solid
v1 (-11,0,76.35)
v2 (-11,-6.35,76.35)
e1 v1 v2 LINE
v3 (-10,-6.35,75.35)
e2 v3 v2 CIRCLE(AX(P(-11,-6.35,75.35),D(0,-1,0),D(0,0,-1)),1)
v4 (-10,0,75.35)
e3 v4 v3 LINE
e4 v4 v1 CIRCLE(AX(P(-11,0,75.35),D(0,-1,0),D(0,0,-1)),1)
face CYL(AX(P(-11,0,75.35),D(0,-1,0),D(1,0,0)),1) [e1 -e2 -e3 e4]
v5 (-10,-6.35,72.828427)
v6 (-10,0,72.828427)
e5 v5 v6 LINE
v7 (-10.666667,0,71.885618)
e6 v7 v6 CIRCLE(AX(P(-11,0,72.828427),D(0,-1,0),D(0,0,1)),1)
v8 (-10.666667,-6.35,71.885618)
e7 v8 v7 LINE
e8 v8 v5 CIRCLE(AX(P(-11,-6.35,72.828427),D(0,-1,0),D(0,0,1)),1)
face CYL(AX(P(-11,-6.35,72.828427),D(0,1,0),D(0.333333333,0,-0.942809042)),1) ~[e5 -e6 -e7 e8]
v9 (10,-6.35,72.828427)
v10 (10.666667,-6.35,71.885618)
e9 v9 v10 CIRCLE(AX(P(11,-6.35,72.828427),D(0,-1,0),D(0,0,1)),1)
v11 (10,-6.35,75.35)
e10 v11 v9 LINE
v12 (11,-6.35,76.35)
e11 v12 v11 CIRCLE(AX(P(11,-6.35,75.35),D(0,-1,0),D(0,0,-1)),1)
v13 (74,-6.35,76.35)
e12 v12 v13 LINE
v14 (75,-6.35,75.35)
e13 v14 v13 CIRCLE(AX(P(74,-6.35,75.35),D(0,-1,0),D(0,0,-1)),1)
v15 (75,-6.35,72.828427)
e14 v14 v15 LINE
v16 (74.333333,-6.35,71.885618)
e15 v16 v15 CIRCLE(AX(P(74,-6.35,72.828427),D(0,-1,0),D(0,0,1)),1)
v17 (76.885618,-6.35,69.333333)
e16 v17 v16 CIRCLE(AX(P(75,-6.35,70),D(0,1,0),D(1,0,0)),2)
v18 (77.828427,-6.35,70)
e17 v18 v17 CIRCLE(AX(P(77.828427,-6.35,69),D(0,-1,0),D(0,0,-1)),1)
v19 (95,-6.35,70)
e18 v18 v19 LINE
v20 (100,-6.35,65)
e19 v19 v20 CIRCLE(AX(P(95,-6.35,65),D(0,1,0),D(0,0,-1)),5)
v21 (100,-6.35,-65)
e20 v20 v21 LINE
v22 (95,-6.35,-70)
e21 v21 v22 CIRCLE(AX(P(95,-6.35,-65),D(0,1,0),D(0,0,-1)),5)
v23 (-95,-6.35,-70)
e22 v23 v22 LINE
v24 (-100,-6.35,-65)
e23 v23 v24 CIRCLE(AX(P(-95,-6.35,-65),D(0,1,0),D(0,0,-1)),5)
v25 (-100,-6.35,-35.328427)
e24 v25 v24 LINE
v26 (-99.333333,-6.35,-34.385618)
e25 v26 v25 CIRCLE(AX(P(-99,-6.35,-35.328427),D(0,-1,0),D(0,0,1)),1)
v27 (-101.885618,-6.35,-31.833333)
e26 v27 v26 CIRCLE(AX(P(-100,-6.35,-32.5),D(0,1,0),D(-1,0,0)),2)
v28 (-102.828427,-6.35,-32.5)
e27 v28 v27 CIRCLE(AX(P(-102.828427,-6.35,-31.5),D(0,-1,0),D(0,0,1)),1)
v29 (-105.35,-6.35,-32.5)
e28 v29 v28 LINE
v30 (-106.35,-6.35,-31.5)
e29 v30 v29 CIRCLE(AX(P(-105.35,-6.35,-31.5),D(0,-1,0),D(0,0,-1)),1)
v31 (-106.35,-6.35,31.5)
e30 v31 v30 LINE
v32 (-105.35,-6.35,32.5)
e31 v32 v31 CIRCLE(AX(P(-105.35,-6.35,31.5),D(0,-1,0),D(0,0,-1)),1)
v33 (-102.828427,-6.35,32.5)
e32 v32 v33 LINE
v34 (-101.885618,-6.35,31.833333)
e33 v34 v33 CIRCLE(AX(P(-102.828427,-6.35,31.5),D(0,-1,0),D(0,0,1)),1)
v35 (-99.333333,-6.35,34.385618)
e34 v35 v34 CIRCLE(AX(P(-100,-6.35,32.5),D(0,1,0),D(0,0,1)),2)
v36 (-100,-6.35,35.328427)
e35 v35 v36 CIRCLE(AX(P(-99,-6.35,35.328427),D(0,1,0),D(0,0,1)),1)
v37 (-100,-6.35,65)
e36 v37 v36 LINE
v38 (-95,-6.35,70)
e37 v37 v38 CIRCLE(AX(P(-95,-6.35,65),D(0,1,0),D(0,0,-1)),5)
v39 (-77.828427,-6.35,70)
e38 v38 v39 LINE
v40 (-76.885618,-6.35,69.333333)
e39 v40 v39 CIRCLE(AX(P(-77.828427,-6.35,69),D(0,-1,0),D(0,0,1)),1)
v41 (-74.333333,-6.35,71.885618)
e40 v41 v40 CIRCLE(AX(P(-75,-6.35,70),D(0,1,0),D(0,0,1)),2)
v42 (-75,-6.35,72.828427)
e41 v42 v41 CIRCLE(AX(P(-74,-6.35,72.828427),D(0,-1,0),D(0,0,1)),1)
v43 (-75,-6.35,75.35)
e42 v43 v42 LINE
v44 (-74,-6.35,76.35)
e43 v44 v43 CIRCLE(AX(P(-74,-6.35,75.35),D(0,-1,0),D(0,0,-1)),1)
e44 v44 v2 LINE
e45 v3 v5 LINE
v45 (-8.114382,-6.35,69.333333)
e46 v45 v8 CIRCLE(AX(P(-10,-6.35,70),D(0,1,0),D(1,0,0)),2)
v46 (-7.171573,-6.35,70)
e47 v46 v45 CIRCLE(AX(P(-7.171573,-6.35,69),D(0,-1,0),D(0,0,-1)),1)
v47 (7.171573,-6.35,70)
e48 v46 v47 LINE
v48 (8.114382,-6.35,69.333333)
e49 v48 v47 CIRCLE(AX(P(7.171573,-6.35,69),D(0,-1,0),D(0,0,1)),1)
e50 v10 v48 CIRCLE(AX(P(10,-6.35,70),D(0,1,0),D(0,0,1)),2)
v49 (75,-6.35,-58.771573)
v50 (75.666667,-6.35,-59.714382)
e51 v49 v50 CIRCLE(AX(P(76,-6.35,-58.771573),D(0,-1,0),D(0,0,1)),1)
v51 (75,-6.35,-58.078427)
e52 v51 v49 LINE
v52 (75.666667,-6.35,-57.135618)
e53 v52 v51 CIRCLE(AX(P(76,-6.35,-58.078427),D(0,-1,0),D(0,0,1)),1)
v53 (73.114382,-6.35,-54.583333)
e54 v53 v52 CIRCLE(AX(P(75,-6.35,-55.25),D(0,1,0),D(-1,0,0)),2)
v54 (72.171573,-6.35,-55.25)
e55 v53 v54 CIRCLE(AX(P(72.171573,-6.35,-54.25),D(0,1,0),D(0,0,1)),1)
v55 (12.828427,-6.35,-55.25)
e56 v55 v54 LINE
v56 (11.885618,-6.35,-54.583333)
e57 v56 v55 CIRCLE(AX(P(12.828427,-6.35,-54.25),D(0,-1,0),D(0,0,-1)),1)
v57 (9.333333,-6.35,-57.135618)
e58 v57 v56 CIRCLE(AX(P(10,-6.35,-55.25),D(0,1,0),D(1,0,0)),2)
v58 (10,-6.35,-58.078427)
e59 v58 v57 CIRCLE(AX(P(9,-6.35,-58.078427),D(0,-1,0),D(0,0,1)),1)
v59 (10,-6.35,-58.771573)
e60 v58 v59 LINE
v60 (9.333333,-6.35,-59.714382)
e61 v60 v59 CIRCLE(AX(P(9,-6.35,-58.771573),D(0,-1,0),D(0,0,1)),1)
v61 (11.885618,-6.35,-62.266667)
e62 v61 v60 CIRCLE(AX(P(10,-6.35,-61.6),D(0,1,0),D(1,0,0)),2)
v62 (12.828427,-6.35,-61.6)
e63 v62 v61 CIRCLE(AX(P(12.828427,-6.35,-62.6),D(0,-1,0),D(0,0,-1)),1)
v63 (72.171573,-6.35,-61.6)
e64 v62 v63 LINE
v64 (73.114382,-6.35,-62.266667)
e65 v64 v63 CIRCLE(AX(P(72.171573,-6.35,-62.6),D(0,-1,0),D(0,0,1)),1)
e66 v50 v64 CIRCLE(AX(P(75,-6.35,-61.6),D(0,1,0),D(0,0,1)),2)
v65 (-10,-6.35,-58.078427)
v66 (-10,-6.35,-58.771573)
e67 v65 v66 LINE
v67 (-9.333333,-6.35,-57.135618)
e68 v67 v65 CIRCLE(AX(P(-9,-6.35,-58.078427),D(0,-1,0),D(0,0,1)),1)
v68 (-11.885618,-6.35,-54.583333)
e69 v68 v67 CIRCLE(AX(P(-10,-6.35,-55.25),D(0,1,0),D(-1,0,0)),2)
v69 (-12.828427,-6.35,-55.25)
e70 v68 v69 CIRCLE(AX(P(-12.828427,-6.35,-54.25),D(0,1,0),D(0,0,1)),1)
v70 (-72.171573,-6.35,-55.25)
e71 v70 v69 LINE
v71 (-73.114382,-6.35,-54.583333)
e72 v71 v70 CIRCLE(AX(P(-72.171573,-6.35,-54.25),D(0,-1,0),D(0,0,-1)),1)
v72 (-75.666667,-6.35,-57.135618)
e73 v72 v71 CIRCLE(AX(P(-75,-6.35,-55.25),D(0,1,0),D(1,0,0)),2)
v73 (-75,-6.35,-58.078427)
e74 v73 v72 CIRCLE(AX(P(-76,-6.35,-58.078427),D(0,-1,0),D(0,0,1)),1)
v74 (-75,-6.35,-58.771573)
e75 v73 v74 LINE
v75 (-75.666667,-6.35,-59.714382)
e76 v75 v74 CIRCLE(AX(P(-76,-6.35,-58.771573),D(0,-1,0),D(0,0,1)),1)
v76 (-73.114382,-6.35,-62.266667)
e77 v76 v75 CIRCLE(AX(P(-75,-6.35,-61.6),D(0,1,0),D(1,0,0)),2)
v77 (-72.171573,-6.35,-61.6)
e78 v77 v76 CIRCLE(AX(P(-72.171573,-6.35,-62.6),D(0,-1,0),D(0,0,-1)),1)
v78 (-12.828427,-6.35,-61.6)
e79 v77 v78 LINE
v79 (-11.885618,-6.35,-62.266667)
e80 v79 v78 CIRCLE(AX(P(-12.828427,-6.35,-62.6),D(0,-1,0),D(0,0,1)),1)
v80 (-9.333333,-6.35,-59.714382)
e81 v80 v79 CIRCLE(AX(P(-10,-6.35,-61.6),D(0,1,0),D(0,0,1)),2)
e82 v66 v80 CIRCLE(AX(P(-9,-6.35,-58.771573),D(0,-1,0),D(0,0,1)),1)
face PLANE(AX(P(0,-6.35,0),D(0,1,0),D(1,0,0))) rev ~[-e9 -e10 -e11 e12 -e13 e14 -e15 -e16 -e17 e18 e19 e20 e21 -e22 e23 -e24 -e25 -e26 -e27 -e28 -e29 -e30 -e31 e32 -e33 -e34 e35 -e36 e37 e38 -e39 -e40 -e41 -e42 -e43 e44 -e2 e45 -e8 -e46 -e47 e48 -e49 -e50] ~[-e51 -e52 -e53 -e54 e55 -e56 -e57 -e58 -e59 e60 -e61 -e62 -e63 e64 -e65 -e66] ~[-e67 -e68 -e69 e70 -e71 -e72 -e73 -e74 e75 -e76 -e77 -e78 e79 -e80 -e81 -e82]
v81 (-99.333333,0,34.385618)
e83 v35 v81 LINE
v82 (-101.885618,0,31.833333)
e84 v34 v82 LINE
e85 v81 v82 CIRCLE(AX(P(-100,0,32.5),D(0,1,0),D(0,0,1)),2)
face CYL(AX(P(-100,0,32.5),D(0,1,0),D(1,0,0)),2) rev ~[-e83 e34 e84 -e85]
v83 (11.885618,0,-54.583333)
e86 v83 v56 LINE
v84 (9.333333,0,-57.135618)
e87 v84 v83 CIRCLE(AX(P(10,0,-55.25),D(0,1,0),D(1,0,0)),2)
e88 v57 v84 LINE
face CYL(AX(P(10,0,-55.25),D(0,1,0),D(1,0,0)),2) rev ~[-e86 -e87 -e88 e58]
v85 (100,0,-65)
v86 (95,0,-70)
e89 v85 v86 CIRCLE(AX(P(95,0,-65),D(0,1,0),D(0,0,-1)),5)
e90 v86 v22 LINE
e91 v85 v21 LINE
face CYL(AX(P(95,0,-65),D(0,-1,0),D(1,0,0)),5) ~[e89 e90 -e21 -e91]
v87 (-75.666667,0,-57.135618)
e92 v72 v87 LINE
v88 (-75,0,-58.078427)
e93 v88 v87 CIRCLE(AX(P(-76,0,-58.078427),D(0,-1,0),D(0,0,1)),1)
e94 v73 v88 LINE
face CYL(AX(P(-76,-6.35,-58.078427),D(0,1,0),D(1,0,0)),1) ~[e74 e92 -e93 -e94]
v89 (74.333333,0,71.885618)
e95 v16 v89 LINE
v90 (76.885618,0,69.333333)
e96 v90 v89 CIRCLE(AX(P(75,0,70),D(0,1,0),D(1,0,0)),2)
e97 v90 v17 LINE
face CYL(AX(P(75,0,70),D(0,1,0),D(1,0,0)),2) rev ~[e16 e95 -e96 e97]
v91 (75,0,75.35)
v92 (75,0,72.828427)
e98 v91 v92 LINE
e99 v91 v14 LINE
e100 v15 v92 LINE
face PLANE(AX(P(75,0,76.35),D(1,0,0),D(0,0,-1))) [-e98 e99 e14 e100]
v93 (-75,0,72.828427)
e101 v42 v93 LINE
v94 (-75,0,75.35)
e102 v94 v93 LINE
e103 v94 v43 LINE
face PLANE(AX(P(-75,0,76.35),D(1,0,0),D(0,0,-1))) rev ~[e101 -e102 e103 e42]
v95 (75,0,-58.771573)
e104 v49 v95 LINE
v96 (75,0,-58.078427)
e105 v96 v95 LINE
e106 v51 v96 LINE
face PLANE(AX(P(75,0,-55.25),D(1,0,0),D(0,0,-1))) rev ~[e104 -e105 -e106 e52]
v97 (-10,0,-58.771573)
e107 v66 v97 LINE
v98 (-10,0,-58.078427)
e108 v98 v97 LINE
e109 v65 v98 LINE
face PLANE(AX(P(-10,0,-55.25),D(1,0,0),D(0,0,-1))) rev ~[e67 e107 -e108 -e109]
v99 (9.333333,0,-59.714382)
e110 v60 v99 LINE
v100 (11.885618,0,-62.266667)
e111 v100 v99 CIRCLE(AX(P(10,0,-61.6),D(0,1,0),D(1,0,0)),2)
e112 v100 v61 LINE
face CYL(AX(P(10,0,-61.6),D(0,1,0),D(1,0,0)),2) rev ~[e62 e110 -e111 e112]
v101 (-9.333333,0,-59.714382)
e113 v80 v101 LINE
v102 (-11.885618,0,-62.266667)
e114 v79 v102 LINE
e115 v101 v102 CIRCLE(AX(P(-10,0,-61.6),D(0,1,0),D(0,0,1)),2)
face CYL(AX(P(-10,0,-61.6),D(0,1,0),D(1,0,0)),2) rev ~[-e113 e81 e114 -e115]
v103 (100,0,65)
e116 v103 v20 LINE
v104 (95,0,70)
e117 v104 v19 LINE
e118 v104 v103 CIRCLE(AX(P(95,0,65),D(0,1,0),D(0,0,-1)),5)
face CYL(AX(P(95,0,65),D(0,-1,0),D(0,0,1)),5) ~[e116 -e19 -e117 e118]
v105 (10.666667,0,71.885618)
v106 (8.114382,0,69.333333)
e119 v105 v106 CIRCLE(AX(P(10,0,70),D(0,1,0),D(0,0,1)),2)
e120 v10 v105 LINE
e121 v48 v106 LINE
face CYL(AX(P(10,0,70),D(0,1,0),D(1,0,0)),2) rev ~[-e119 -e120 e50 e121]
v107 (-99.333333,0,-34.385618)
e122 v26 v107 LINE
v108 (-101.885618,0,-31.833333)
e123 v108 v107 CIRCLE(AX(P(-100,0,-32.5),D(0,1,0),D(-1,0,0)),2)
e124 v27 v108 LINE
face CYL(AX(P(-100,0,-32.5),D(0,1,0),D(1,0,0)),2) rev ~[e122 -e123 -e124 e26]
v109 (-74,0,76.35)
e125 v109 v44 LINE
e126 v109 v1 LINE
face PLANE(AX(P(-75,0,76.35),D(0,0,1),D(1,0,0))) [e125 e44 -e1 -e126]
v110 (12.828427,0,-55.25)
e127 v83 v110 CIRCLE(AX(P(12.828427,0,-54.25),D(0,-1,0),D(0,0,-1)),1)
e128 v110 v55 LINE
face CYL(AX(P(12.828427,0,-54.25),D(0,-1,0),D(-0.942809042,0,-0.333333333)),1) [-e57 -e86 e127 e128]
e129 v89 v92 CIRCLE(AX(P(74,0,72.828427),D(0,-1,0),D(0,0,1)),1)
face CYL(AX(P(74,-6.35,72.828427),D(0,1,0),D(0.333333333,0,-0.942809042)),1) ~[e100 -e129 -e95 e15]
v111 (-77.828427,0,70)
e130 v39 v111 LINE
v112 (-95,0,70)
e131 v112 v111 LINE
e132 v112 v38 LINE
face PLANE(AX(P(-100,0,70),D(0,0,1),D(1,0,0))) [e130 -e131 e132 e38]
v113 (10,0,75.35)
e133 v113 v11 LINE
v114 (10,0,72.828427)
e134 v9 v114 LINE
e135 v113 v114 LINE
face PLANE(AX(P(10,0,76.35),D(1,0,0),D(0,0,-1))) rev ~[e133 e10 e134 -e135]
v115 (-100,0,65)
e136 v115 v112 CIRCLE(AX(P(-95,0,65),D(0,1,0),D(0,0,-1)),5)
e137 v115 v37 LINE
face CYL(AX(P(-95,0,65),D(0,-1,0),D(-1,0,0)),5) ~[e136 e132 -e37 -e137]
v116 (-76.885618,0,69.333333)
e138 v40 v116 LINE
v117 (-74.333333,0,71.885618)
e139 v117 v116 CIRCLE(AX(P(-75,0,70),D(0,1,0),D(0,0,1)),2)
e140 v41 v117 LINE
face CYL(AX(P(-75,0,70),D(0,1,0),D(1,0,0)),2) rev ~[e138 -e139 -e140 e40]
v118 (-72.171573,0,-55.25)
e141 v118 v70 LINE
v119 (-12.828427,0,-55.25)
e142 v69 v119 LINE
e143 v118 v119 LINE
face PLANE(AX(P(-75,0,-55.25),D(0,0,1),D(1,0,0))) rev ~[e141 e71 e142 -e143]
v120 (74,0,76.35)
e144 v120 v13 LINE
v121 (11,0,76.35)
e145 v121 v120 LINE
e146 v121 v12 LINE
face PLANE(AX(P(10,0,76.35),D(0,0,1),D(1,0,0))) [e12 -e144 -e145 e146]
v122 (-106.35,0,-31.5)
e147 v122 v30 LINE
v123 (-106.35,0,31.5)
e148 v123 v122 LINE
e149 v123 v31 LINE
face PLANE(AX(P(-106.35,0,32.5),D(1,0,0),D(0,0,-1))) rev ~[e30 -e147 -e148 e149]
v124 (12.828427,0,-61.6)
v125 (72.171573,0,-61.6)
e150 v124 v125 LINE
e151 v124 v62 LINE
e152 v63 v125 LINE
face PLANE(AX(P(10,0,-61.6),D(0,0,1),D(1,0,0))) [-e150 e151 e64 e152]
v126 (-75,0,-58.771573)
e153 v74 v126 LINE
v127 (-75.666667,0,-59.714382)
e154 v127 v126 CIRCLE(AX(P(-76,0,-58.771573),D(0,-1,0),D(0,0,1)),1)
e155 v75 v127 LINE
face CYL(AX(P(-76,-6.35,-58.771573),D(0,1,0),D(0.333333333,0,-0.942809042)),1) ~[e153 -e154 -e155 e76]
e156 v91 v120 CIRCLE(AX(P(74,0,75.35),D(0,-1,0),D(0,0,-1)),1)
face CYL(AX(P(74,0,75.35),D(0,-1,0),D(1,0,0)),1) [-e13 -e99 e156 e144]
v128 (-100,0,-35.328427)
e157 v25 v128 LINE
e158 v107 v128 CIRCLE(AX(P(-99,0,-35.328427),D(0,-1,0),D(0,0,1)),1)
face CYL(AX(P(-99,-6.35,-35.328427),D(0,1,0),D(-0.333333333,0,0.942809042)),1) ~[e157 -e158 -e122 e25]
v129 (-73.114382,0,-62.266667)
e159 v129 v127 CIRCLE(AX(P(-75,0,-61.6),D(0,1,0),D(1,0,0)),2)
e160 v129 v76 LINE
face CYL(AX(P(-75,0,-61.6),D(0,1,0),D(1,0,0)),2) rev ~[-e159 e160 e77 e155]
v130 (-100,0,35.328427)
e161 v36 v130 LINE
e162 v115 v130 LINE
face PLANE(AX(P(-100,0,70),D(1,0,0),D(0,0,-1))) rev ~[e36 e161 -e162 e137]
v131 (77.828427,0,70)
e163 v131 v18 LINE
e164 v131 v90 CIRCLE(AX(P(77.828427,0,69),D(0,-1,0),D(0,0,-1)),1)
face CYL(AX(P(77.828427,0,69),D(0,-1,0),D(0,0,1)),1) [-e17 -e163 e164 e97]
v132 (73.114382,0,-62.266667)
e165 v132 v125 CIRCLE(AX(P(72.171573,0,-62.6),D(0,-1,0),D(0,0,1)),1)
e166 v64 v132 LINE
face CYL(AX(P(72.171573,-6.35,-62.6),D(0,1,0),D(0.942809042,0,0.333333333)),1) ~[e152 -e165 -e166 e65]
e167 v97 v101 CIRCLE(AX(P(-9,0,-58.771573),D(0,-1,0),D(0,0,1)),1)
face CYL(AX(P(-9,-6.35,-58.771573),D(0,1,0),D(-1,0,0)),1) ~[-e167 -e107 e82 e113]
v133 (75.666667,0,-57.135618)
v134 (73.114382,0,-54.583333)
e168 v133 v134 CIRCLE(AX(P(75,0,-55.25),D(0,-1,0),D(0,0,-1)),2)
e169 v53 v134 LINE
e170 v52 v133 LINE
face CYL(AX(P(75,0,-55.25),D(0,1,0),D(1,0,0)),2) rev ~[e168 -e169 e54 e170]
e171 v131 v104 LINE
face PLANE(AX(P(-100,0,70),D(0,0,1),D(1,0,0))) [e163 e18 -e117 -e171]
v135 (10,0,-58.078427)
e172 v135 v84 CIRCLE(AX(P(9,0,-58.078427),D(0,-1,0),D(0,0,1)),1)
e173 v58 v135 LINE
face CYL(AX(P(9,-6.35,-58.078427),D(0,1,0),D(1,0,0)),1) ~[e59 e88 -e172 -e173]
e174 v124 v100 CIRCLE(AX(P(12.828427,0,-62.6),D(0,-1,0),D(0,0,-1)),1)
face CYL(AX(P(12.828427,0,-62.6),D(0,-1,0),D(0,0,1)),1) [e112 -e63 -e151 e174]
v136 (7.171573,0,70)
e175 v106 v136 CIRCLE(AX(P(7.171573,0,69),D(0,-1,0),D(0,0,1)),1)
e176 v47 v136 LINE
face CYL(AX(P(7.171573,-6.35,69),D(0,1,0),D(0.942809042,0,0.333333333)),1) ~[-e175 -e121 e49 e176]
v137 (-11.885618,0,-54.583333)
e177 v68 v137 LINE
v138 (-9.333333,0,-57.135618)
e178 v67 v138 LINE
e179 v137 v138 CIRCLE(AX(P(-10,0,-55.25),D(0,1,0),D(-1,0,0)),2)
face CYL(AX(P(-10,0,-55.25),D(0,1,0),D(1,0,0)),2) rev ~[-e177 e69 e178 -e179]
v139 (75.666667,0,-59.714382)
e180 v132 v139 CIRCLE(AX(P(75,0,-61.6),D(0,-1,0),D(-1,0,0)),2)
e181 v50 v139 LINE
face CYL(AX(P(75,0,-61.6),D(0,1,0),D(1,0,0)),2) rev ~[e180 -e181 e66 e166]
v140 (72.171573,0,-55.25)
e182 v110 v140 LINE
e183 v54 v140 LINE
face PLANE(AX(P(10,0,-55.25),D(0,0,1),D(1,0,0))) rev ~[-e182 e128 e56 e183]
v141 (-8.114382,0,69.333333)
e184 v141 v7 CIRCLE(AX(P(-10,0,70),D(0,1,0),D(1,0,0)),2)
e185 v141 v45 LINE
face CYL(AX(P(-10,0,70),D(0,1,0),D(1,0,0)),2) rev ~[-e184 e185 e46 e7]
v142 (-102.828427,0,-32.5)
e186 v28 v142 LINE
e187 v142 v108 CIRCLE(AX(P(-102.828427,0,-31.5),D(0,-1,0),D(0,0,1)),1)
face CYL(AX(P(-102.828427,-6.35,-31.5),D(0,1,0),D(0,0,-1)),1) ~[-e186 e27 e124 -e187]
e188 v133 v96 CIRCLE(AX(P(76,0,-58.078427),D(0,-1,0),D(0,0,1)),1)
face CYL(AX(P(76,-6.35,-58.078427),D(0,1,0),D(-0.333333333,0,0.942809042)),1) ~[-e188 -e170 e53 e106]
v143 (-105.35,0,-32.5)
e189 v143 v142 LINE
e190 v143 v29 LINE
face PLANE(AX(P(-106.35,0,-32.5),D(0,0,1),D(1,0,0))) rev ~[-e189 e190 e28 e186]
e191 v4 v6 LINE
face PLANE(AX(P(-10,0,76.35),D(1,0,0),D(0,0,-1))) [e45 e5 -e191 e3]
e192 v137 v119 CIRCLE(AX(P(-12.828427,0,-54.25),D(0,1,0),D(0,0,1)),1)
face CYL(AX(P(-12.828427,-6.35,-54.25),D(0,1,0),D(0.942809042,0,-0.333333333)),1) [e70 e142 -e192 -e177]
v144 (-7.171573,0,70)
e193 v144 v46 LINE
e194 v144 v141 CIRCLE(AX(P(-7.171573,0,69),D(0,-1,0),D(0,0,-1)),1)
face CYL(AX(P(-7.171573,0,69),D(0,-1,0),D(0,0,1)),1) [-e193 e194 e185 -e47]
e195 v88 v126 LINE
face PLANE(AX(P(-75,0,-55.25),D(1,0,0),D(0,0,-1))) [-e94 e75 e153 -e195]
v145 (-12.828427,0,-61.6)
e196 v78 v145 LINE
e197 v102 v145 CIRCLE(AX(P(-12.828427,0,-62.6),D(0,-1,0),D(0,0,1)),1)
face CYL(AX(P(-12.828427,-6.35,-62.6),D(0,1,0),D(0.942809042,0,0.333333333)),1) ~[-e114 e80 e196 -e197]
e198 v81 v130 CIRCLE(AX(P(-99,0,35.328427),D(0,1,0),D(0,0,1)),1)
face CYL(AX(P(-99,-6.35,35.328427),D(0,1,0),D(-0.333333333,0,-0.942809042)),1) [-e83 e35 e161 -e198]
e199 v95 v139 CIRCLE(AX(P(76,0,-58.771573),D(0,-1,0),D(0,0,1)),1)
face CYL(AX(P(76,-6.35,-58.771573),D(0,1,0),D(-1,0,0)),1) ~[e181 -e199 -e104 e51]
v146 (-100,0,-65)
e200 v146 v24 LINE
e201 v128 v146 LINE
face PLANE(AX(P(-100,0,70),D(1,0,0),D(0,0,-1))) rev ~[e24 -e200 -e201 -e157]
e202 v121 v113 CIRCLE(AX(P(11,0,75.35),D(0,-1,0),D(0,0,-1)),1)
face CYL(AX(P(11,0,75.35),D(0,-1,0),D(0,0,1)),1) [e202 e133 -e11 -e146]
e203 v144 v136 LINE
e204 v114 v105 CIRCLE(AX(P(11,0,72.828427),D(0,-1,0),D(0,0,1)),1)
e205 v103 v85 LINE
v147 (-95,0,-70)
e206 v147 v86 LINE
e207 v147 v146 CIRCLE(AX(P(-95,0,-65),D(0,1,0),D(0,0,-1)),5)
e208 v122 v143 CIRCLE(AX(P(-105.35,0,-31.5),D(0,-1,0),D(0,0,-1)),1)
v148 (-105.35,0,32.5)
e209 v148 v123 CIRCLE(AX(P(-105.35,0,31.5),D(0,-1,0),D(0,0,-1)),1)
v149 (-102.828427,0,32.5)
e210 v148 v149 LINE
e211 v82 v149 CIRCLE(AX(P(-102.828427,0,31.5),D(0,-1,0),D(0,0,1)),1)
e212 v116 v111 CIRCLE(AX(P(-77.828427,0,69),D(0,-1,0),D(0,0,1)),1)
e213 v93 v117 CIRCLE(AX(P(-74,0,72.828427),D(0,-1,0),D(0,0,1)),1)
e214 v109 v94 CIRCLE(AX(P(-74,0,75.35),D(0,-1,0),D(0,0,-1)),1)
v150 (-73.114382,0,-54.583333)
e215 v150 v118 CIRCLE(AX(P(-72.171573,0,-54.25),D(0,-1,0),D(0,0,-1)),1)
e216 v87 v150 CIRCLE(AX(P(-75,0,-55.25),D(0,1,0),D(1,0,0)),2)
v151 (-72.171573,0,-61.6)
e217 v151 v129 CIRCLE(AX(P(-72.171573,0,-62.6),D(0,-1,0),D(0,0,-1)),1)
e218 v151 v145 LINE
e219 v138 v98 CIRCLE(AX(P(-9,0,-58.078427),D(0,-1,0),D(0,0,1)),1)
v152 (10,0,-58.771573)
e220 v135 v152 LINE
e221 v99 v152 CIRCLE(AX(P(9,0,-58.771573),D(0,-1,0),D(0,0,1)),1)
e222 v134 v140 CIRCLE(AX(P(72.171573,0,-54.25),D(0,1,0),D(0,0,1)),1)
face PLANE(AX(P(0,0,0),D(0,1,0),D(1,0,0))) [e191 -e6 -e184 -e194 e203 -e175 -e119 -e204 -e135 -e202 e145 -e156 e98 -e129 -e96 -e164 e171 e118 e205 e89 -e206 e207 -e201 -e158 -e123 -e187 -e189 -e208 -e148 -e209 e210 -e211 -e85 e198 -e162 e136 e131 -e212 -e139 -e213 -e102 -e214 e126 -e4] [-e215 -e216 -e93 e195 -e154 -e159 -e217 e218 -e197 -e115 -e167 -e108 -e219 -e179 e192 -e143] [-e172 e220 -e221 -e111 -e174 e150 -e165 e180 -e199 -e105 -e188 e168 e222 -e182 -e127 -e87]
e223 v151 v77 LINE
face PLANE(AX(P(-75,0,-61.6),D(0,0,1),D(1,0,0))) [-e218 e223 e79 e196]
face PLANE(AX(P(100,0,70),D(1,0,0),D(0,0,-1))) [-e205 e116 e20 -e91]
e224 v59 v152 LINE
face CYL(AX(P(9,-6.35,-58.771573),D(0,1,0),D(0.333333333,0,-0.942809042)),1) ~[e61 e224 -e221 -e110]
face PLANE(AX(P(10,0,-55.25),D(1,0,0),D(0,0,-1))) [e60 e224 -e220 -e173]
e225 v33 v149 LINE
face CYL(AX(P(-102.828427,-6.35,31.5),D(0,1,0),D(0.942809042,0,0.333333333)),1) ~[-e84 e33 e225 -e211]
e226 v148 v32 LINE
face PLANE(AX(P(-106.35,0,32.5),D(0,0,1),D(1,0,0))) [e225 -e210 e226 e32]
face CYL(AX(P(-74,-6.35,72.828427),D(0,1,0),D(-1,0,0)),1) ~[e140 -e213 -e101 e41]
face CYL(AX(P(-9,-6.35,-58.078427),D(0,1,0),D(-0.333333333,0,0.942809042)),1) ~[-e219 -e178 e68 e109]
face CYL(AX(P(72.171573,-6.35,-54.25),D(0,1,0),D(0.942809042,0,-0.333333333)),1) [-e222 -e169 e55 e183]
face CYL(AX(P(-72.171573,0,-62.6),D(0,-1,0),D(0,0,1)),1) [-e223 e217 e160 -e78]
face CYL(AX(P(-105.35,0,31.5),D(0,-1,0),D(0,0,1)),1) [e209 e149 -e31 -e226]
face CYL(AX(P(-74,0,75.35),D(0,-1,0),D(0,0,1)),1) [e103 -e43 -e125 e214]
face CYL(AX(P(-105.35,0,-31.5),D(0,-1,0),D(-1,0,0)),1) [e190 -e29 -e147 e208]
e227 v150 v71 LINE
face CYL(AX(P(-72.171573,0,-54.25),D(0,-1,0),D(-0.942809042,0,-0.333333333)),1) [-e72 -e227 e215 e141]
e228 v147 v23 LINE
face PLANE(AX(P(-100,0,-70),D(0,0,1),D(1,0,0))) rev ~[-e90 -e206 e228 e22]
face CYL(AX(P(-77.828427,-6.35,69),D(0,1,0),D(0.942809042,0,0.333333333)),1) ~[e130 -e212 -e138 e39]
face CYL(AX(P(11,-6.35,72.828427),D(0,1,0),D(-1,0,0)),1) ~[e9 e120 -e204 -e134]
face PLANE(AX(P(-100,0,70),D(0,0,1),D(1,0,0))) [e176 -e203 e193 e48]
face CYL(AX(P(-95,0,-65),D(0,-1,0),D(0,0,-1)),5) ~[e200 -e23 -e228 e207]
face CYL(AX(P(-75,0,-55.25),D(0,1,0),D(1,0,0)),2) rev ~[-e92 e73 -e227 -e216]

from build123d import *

# Parameters (mm, degrees)
SKETCH1_W              = 200
SKETCH1_H              = 140
BOSS_EXTRUDE1_DEPTH    = 6.35
SKETCH4_W              = 65
SKETCH4_H              = 6.35
BOSS_EXTRUDE2_DEPTH    = 6.35
LPATTERN1_COUNT        = 2
LPATTERN1_PITCH        = 85
SKETCH5_W              = 6.35
SKETCH5_H              = 65
BOSS_EXTRUDE3_DEPTH    = 6.35
SKETCH6_W              = 65
SKETCH6_H              = 6.35
CUT_EXTRUDE3_DEPTH     = 6.35
SKETCH7_R              = 2
CUT_EXTRUDE4_DEPTH     = 6.35
FILLET4_R              = 1
LPATTERN2_COUNT        = 2
LPATTERN2_PITCH        = 85
FILLET4_OF_LPATTERN2_R = 1
FILLET5_R              = 5
SKETCH8_R              = 2
CUT_EXTRUDE6_DEPTH     = 6.35
FILLET6_R              = 1


with BuildPart() as part:
    # Sketch1 → Boss-Extrude1 (new body)
    with BuildSketch(Plane(origin=(0, 0, 0), x_dir=(1, 0, 0), z_dir=(0, 1, 0))):
        Rectangle(SKETCH1_W, SKETCH1_H)
    extrude(amount=-BOSS_EXTRUDE1_DEPTH)

    # Sketch4 → Boss-Extrude2 (add)
    with BuildSketch(Plane(origin=(0, 0, 0), x_dir=(1, 0, 0), z_dir=(0, 1, 0))):
        with Locations((-42.5, -73.175)):
            Rectangle(SKETCH4_W, SKETCH4_H)
    boss_extrude2 = extrude(amount=-BOSS_EXTRUDE2_DEPTH)

    # LPattern1: Boss-Extrude2 ×2
    with Locations(*[(i * LPATTERN1_PITCH, 0, 0) for i in range(1, LPATTERN1_COUNT)]):
        add(boss_extrude2)

    # Sketch5 → Boss-Extrude3 (add)
    with BuildSketch(Plane(origin=(0, 0, 0), x_dir=(1, 0, 0), z_dir=(0, 1, 0))):
        with Locations((-103.175, 0)):
            Rectangle(SKETCH5_W, SKETCH5_H)
    extrude(amount=-BOSS_EXTRUDE3_DEPTH)

    # Sketch6 → Cut-Extrude3 (cut)
    with BuildSketch(Plane(origin=(0, 0, 0), x_dir=(1, 0, 0), z_dir=(0, 1, 0))):
        with Locations((42.5, 58.425)):
            Rectangle(SKETCH6_W, SKETCH6_H)
    cut_extrude3 = extrude(amount=-CUT_EXTRUDE3_DEPTH, mode=Mode.SUBTRACT)

    # Sketch7 → Cut-Extrude4 (cut)
    with BuildSketch(Plane(origin=(0, 0, 0), x_dir=(1, 0, 0), z_dir=(0, 1, 0))):
        with Locations((10, 55.25)):
            Circle(SKETCH7_R)
        with Locations((75, 55.25)):
            Circle(SKETCH7_R)
        with Locations((10, 61.6)):
            Circle(SKETCH7_R)
        with Locations((75, 61.6)):
            Circle(SKETCH7_R)
    cut_extrude4 = extrude(amount=-CUT_EXTRUDE4_DEPTH, mode=Mode.SUBTRACT)

    # Fillet4
    fillet4_edges = [part.edges().sort_by_distance(p)[0] for p in [
        (73, -3.175, -55.25),
        (12, -3.175, -55.25),
        (75, -3.175, -59.6),
        (12, -3.175, -61.6),
        (10, -3.175, -57.25),
        (73, -3.175, -61.6),
        (75, -3.175, -57.25),
        (10, -3.175, -59.6),
    ]]
    fillet(fillet4_edges, radius=FILLET4_R)

    # LPattern2: Cut-Extrude3, Cut-Extrude4 ×2
    with Locations(*[(-i * LPATTERN2_PITCH, 0, 0) for i in range(1, LPATTERN2_COUNT)]):
        add(cut_extrude3, mode=Mode.SUBTRACT)
        add(cut_extrude4, mode=Mode.SUBTRACT)

    # Fillet4 of LPattern2
    fillet4_of_lpattern2_edges = [part.edges().sort_by_distance(p)[0] for p in [
        (-12, -3.175, -55.25),
        (-73, -3.175, -55.25),
        (-10, -3.175, -59.6),
        (-73, -3.175, -61.6),
        (-75, -3.175, -57.25),
        (-12, -3.175, -61.6),
        (-10, -3.175, -57.25),
        (-75, -3.175, -59.6),
    ]]
    fillet(fillet4_of_lpattern2_edges, radius=FILLET4_OF_LPATTERN2_R)

    # Fillet5
    fillet5_edges = [part.edges().sort_by_distance(p)[0] for p in [
        (100, -3.175, 70),
        (-100, -3.175, 70),
        (-100, -3.175, -70),
        (100, -3.175, -70),
    ]]
    fillet(fillet5_edges, radius=FILLET5_R)

    # Sketch8 → Cut-Extrude6 (cut)
    with BuildSketch(Plane(origin=(0, 0, 0), x_dir=(1, 0, 0), z_dir=(0, 1, 0))):
        with Locations((-75, -70)):
            Circle(SKETCH8_R)
        with Locations((-10, -70)):
            Circle(SKETCH8_R)
        with Locations((10, -70)):
            Circle(SKETCH8_R)
        with Locations((75, -70)):
            Circle(SKETCH8_R)
        with Locations((-100, 32.5)):
            Circle(SKETCH8_R)
        with Locations((-100, -32.5)):
            Circle(SKETCH8_R)
    extrude(amount=-CUT_EXTRUDE6_DEPTH, mode=Mode.SUBTRACT)

    # Fillet6
    fillet6_edges = [part.edges().sort_by_distance(p)[0] for p in [
        (-75, -3.175, 76.35),
        (-10, -3.175, 76.35),
        (10, -3.175, 76.35),
        (75, -3.175, 76.35),
        (-102, -3.175, -32.5),
        (-102, -3.175, 32.5),
        (75, -3.175, 72),
        (10, -3.175, 72),
        (-10, -3.175, 72),
        (-75, -3.175, 72),
        (-100, -3.175, -34.5),
        (77, -3.175, 70),
        (8, -3.175, 70),
        (-8, -3.175, 70),
        (-100, -3.175, 34.5),
        (-77, -3.175, 70),
        (-106.35, -3.175, 32.5),
        (-106.35, -3.175, -32.5),
    ]]
    fillet(fillet6_edges, radius=FILLET6_R)


solid = part.part
